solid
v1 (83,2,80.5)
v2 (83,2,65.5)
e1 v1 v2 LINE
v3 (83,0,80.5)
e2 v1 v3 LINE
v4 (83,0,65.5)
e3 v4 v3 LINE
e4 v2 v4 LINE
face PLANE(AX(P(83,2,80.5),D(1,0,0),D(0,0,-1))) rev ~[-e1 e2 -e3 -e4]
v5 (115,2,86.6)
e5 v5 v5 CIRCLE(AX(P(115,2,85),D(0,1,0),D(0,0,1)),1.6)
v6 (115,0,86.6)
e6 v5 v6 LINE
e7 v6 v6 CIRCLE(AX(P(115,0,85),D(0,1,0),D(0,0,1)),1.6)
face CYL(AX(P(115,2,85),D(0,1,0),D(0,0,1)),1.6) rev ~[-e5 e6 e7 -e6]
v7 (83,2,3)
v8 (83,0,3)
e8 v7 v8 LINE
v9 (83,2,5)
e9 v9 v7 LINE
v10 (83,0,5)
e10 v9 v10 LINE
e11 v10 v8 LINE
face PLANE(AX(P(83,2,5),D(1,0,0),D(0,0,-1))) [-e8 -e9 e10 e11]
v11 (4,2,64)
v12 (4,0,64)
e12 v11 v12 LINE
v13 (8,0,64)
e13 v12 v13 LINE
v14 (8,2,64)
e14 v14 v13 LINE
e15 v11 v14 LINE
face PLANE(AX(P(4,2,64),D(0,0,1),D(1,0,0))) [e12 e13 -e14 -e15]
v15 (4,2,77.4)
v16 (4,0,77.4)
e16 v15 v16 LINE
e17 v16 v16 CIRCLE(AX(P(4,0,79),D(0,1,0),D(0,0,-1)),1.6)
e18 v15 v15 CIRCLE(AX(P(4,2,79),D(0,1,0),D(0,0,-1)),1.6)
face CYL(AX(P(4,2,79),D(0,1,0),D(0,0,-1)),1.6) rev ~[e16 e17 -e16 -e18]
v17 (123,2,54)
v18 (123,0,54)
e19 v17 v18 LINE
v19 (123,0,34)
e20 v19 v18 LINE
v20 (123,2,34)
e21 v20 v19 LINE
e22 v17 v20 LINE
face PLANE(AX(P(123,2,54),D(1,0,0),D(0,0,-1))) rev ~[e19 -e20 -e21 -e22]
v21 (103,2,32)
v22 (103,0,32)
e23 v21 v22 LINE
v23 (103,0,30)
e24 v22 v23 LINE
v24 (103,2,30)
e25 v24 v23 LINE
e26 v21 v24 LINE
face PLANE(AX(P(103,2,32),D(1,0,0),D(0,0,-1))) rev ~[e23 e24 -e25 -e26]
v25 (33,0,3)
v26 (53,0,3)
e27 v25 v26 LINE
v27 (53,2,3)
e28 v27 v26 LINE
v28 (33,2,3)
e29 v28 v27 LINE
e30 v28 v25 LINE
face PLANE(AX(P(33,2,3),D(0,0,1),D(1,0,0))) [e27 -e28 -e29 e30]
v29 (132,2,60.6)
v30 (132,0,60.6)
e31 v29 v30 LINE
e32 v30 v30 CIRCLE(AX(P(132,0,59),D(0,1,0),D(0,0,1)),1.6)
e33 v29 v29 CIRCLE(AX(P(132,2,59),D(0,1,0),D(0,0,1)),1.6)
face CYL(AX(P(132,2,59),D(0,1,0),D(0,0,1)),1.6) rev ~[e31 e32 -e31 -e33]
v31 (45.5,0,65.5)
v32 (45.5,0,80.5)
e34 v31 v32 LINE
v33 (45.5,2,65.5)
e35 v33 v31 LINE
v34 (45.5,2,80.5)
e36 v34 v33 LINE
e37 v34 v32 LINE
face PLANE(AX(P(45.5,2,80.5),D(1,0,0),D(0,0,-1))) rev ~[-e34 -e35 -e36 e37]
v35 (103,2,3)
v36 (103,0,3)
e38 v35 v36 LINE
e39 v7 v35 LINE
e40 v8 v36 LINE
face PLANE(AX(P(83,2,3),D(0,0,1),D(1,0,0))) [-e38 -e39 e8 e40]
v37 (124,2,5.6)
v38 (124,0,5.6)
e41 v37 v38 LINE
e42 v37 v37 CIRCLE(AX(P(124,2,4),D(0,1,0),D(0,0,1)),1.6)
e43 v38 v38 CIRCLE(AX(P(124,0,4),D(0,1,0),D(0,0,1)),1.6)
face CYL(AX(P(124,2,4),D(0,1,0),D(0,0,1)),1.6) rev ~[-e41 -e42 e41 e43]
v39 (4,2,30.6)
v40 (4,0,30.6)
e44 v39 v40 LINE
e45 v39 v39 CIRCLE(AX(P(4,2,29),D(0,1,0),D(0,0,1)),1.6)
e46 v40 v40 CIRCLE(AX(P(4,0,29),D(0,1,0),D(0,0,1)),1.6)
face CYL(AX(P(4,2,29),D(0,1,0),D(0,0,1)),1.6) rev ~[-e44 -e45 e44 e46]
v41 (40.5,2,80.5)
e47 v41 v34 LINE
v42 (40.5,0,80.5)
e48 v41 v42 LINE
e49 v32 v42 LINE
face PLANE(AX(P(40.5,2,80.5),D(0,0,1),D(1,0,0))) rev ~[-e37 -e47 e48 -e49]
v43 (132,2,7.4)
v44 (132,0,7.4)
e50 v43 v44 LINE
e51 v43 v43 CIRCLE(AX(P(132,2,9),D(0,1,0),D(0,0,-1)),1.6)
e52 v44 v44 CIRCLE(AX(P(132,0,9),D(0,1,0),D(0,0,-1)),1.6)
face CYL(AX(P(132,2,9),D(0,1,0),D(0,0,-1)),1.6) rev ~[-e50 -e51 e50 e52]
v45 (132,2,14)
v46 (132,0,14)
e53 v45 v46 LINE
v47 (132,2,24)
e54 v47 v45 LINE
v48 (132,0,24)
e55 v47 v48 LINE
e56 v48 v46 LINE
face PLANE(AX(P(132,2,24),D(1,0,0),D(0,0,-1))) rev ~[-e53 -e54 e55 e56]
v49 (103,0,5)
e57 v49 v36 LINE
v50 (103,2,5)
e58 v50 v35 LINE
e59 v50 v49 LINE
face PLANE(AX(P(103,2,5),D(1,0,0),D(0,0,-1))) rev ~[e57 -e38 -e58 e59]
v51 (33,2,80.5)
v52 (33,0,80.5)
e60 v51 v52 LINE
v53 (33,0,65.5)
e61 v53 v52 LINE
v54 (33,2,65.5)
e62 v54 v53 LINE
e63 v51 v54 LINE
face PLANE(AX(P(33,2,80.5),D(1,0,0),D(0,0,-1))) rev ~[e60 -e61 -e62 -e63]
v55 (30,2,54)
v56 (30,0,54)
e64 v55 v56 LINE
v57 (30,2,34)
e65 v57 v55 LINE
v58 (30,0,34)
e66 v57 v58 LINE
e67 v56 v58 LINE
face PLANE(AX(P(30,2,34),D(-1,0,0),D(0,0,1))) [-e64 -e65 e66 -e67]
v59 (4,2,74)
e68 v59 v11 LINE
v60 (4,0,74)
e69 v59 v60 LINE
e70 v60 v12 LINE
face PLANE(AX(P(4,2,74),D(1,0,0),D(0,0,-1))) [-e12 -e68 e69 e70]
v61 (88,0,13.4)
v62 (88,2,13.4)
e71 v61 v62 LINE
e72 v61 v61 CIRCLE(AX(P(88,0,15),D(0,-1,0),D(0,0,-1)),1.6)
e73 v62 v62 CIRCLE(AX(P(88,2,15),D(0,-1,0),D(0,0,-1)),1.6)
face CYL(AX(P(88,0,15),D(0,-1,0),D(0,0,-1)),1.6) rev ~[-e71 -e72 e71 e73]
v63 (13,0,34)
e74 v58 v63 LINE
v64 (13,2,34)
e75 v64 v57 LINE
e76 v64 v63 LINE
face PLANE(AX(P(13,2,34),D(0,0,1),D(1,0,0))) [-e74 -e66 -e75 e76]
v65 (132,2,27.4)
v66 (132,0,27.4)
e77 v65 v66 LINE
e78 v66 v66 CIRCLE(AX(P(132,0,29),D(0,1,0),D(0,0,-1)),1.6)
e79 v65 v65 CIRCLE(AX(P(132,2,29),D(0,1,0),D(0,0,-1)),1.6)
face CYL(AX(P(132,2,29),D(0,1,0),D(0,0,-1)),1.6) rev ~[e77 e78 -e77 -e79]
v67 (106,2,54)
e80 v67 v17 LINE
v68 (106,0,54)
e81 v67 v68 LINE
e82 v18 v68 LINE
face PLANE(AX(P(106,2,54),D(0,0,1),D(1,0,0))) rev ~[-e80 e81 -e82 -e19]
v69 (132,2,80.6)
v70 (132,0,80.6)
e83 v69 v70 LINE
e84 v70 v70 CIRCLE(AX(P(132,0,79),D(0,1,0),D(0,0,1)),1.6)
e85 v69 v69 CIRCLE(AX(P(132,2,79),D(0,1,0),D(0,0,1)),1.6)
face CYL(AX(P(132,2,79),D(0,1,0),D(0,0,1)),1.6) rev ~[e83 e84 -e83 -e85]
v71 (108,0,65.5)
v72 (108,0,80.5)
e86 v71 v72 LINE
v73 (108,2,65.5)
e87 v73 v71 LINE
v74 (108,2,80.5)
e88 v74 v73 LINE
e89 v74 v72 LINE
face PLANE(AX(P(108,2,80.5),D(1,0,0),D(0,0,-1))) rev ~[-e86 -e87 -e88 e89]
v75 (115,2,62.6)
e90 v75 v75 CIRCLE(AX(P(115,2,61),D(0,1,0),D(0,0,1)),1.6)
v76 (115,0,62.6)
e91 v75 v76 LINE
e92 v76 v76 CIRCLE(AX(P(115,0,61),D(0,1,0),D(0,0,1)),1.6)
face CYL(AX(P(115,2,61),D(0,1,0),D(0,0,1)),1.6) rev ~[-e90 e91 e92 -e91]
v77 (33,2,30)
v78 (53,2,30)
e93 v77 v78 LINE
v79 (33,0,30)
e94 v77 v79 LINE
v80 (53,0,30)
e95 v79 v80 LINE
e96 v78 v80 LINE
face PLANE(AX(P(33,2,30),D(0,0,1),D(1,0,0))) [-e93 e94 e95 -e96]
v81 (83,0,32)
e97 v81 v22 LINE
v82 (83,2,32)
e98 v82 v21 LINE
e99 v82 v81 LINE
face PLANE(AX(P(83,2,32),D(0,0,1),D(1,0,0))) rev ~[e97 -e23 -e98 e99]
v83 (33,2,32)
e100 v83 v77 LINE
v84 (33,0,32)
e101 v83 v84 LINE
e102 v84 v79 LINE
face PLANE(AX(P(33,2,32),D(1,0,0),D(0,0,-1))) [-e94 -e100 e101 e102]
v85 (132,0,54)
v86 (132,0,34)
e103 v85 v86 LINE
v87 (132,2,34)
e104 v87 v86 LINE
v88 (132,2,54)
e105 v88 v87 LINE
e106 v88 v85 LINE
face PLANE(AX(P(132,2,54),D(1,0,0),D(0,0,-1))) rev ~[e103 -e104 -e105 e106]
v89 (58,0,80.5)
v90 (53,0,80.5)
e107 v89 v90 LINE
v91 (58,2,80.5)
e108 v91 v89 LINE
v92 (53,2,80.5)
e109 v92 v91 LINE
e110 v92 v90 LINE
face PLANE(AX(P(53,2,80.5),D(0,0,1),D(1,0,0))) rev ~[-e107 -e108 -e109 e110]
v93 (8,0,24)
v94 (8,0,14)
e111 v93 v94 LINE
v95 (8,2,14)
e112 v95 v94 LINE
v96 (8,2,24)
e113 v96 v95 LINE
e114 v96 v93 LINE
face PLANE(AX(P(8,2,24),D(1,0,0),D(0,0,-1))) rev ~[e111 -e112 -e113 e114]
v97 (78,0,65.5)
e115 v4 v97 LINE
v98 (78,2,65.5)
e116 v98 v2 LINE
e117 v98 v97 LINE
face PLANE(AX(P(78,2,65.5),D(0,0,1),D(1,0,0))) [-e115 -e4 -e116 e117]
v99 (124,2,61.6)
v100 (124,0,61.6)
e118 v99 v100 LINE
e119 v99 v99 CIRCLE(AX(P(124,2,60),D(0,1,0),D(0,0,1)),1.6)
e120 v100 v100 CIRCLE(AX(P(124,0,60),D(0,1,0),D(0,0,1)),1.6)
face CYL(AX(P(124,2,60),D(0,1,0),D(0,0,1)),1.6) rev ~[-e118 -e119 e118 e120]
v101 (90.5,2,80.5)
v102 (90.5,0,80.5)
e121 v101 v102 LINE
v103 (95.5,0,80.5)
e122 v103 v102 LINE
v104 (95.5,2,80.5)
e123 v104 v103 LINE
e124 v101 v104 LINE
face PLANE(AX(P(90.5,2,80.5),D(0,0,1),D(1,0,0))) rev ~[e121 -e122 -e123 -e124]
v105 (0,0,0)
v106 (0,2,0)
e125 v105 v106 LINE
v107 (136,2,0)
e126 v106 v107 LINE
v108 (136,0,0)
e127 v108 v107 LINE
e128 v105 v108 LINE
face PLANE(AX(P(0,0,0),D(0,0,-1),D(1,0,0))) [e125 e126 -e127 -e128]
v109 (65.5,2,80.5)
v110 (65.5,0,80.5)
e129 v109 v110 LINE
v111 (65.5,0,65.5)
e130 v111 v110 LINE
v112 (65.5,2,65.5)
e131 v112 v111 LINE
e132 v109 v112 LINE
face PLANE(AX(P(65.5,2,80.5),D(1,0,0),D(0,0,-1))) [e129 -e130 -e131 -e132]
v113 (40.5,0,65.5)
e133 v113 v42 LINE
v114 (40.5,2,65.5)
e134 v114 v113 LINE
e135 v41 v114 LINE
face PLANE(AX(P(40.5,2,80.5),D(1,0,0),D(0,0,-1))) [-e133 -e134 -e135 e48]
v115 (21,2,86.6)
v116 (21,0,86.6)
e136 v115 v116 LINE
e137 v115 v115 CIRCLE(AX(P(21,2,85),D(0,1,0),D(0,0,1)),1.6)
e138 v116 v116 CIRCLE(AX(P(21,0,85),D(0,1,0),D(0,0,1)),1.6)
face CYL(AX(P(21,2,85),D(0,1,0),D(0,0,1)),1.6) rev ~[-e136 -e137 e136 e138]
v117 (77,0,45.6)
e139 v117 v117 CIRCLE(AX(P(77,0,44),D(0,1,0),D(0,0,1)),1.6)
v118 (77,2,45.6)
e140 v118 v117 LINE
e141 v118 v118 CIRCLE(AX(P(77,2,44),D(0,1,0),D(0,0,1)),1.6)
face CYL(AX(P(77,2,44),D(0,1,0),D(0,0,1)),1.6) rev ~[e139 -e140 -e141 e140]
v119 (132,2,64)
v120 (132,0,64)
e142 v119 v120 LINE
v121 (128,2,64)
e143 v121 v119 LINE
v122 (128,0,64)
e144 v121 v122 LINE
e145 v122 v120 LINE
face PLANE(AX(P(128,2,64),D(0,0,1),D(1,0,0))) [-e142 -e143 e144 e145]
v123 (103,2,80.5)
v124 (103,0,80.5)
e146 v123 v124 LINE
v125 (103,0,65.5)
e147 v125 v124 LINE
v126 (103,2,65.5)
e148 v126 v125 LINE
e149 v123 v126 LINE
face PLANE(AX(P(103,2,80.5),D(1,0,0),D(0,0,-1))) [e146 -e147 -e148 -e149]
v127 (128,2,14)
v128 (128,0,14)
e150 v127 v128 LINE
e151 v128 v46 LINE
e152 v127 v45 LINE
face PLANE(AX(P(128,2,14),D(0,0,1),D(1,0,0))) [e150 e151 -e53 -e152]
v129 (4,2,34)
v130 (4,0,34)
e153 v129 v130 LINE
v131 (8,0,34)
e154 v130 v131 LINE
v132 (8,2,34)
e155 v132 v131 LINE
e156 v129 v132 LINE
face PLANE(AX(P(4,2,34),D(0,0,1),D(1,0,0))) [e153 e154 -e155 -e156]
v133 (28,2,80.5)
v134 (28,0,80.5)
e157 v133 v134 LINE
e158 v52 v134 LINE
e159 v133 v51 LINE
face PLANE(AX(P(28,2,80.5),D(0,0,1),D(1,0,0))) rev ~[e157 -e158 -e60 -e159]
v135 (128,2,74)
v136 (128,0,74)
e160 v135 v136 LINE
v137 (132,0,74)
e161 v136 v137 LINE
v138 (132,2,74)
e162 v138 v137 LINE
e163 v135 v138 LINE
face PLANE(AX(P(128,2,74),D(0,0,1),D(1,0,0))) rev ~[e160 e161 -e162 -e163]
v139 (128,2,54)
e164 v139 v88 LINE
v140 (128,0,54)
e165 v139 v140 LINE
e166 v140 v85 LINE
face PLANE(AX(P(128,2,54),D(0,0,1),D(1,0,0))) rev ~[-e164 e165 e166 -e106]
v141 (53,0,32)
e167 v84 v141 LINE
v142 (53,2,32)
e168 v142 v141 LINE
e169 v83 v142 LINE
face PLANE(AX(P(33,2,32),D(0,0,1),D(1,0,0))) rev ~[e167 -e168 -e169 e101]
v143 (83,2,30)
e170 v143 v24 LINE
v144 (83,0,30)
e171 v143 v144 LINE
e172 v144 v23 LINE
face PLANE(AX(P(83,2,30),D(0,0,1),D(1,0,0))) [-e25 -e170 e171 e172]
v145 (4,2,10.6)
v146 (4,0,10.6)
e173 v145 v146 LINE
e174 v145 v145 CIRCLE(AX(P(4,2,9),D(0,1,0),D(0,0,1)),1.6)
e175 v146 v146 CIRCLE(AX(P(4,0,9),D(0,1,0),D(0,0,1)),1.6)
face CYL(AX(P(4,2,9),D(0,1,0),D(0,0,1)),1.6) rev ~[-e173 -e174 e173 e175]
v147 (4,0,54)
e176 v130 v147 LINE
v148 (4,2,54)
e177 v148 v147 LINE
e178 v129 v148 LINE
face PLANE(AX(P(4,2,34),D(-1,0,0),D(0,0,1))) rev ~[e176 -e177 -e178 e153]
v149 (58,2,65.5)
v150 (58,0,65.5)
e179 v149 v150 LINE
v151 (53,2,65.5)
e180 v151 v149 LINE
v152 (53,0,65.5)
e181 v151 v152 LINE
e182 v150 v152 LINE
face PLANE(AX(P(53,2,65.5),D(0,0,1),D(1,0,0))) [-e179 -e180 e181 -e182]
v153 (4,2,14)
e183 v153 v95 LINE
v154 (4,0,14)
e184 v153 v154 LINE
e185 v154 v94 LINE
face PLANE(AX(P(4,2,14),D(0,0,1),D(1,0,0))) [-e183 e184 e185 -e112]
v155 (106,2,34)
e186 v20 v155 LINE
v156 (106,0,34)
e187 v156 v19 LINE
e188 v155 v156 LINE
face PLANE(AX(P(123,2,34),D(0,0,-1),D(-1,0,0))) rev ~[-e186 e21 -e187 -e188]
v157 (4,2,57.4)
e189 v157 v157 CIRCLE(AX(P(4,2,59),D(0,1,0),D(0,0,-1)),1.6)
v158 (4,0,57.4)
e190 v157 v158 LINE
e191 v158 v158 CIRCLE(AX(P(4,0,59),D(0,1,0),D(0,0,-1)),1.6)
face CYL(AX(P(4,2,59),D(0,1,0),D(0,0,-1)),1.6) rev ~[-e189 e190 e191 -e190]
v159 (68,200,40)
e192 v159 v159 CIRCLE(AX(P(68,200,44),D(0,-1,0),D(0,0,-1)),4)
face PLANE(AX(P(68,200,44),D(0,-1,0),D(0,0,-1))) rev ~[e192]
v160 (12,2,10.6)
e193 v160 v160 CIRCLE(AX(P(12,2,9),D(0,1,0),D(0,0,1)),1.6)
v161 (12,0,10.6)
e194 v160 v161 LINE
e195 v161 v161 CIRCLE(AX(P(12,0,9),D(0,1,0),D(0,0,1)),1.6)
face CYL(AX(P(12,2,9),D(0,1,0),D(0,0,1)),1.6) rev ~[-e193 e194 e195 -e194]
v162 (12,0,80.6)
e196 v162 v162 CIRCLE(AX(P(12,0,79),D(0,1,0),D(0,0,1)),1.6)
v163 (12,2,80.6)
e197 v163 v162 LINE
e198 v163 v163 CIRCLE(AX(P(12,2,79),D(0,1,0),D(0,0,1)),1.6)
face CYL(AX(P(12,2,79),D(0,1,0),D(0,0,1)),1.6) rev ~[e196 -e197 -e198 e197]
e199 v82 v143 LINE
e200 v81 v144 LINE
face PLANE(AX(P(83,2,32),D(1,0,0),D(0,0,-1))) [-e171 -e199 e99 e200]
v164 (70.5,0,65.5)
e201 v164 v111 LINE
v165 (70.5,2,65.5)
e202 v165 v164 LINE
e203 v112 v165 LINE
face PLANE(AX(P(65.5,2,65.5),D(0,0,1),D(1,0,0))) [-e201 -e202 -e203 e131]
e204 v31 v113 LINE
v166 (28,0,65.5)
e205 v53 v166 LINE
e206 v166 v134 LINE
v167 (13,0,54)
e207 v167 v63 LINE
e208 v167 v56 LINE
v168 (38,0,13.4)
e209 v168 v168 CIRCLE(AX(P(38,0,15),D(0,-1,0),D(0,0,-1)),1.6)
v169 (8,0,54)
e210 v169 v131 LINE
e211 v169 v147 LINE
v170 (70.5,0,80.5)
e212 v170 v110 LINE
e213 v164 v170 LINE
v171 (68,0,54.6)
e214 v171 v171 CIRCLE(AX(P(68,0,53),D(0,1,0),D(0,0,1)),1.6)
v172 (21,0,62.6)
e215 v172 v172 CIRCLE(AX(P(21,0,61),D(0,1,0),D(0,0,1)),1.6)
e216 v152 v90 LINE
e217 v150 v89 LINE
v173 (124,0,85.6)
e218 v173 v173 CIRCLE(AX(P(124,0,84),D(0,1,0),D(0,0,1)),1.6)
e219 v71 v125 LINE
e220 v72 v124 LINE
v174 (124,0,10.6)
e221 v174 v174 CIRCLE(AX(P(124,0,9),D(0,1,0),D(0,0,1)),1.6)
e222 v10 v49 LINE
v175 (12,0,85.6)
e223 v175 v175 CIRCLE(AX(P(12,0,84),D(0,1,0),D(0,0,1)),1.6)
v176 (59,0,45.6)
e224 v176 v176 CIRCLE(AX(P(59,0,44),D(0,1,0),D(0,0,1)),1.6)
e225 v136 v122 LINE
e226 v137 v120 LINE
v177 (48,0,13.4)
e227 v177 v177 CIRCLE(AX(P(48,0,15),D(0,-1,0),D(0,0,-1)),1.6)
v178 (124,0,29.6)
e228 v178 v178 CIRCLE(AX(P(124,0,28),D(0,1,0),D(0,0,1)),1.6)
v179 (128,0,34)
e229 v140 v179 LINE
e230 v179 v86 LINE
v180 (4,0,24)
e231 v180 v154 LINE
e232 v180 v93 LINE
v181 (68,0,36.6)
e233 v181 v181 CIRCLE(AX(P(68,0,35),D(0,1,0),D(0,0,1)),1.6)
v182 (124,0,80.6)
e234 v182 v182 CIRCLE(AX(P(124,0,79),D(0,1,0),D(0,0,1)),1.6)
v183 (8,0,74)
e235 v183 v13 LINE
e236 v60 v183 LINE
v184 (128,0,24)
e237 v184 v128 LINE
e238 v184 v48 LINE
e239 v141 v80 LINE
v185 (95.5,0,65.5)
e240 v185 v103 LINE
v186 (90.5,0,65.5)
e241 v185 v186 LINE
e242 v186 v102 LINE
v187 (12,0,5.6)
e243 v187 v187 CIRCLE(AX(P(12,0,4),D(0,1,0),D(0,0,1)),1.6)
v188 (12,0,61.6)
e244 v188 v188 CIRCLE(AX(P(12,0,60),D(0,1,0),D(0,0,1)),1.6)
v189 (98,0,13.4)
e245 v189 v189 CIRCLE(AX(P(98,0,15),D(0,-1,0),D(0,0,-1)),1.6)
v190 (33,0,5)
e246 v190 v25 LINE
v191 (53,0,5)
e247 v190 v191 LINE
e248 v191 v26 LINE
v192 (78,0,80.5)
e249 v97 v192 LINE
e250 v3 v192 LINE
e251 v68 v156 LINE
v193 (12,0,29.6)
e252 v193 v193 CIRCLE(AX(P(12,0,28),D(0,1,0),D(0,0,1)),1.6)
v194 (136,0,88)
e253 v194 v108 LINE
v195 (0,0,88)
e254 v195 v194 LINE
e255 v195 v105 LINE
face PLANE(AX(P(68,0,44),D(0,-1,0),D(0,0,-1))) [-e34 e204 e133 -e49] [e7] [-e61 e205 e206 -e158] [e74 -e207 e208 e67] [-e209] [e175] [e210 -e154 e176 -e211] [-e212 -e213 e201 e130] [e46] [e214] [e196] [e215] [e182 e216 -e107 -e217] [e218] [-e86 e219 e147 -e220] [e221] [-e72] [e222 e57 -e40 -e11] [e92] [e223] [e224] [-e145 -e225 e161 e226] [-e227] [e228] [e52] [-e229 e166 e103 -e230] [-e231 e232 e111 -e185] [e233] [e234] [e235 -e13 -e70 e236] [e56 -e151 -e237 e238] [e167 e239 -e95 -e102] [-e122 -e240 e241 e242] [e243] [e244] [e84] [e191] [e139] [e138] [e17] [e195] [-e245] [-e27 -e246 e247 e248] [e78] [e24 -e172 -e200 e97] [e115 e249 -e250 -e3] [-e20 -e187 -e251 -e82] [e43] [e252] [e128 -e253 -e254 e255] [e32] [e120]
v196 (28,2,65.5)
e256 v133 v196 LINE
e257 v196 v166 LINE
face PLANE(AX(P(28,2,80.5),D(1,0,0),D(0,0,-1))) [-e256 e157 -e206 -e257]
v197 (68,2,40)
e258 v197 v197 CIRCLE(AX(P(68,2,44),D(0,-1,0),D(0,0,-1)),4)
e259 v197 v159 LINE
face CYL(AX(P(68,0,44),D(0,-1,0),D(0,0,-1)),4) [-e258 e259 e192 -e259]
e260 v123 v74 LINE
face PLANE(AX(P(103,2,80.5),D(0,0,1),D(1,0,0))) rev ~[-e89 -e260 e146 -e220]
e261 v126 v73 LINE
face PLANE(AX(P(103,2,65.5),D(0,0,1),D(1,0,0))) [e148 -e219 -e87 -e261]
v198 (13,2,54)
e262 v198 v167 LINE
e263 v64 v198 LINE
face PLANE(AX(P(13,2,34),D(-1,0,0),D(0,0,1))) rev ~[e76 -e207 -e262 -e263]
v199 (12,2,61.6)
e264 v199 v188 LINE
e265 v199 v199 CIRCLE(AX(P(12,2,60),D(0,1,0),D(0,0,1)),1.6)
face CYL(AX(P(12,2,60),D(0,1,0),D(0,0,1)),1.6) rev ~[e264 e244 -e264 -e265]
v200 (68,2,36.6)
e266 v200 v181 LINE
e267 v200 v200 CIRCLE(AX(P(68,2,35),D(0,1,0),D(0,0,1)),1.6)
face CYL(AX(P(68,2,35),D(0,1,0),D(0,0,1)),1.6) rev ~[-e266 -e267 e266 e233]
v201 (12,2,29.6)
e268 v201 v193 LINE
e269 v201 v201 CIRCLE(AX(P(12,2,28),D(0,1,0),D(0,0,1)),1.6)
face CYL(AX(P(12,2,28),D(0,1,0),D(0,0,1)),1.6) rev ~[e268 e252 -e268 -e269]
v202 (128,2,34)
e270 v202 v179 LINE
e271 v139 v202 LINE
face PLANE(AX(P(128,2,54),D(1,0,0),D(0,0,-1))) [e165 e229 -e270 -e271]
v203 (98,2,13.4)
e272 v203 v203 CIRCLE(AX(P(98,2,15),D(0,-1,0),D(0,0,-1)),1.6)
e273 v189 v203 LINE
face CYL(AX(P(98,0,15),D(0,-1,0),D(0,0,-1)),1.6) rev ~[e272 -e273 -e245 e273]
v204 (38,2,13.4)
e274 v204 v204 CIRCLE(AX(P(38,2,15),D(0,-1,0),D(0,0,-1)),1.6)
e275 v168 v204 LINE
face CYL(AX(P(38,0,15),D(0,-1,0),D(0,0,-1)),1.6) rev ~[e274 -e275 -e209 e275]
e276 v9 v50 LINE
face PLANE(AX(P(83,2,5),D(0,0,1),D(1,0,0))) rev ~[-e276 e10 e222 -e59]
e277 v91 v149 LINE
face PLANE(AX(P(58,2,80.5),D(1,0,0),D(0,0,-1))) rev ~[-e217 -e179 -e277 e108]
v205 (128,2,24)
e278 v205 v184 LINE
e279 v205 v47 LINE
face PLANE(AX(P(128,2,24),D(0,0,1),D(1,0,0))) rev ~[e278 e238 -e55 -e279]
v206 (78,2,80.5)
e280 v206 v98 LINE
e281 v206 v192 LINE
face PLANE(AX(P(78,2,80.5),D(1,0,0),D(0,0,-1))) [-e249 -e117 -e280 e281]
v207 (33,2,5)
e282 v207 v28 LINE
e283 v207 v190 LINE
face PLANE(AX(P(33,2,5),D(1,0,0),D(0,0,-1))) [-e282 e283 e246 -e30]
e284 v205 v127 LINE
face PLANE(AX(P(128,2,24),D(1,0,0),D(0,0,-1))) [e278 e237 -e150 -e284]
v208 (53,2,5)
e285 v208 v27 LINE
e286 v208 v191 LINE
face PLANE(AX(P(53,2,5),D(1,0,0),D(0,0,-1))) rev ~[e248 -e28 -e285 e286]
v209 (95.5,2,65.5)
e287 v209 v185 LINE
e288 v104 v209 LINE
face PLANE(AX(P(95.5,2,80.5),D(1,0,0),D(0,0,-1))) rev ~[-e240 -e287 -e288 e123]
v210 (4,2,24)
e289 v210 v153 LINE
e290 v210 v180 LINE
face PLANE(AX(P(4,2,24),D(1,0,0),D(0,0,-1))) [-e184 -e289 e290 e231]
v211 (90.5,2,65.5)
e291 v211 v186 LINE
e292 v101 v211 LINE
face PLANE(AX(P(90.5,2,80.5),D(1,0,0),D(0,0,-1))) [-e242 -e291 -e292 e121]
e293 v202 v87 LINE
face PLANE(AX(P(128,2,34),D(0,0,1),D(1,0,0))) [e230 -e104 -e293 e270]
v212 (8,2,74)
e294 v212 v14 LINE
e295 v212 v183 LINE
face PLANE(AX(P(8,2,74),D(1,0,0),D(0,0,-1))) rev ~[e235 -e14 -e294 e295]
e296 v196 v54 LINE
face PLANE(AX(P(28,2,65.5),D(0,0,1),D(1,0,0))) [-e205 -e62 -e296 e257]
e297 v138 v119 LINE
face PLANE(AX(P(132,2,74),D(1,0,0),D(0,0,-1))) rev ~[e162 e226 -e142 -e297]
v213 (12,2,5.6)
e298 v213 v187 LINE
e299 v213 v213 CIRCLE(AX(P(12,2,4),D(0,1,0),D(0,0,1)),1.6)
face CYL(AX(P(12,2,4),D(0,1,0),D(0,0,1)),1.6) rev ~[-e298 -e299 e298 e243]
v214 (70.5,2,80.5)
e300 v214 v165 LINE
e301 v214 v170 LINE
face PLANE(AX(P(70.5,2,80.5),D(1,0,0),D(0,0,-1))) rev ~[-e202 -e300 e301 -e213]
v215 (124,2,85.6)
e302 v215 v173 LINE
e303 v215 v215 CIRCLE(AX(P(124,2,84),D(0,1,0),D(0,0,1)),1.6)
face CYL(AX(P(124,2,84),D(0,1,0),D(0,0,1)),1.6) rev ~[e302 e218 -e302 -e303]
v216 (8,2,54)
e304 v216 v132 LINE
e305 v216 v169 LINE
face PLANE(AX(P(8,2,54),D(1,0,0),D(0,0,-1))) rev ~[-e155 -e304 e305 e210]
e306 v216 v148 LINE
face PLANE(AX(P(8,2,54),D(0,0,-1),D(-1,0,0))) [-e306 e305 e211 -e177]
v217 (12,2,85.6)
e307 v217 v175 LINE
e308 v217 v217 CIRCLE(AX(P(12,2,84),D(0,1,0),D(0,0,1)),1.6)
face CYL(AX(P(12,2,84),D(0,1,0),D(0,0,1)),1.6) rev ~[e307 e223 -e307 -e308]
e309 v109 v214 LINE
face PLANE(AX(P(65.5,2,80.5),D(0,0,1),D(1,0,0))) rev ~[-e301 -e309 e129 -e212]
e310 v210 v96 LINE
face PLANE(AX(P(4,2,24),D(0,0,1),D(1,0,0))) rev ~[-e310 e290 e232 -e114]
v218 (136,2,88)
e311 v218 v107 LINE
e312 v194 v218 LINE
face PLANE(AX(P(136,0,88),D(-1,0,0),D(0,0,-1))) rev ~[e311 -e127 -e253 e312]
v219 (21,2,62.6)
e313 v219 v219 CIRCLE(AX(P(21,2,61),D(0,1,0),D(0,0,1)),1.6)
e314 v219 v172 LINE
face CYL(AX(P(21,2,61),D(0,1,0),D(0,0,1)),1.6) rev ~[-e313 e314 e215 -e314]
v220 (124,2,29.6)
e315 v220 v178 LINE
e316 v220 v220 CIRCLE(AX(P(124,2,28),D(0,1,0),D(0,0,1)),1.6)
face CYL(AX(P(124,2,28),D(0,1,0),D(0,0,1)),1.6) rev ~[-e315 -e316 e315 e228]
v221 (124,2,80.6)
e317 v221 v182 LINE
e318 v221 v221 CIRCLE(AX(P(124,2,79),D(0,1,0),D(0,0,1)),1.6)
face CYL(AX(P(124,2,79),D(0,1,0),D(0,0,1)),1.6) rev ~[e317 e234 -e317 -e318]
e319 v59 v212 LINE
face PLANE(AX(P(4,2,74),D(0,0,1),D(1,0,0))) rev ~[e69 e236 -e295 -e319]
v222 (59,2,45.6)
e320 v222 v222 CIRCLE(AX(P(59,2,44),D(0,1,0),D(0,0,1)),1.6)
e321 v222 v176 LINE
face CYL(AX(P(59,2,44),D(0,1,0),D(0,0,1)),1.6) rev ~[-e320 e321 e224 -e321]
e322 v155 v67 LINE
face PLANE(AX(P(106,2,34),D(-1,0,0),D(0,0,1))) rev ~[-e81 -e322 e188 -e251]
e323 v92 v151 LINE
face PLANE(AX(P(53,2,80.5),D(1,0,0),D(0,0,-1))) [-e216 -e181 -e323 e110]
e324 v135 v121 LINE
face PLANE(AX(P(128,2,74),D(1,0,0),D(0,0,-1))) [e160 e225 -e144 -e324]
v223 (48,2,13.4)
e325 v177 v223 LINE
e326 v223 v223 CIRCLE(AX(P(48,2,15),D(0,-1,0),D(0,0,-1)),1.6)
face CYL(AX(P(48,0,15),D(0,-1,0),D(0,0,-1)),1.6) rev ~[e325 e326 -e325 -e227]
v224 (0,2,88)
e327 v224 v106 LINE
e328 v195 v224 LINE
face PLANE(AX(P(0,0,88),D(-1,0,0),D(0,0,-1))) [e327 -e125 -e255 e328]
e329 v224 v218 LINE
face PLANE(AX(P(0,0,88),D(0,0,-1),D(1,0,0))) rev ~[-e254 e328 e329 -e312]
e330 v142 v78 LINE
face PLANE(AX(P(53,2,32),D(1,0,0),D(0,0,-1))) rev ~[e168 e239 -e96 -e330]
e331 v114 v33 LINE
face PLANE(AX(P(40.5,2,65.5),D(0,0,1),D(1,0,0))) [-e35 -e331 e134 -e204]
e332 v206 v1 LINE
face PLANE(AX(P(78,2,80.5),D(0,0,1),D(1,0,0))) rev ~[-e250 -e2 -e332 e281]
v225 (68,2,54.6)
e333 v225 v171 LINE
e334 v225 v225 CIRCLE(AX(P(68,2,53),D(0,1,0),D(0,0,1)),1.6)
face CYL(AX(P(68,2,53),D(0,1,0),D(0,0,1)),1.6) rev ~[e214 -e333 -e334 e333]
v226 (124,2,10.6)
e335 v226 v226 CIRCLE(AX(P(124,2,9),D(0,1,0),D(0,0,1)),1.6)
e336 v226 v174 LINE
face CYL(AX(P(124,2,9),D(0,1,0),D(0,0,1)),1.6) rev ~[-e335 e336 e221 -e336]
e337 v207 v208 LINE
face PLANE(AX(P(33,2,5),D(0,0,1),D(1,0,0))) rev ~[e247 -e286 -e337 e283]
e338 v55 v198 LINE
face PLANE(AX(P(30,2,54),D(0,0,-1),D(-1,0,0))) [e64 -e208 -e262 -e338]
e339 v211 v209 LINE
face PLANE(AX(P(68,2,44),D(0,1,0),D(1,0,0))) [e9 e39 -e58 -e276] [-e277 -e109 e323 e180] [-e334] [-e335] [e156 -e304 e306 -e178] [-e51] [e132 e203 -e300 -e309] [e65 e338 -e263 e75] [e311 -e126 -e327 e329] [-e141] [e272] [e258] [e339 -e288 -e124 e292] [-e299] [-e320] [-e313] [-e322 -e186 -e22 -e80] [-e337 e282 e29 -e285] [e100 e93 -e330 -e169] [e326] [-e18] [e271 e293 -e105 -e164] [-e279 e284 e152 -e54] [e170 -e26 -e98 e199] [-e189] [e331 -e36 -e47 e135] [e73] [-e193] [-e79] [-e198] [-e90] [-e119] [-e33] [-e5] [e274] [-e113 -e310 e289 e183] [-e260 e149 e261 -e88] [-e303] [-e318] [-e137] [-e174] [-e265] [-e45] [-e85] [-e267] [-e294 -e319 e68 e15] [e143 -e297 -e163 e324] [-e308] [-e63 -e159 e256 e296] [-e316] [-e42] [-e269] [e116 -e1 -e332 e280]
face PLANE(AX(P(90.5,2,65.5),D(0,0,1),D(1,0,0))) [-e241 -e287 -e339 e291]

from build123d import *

# Parameters (mm, degrees)
SKETCH_1_W          = 136
SKETCH_1_H          = 88
EXTRUDE_1_DEPTH     = 2
SKETCH_2_R          = 1.6
SKETCH_2_W          = 4
SKETCH_2_H          = 10
SKETCH_2_H_2        = 20
CUT_EXTRUDE_1_DEPTH = 2
SKETCH_5_R          = 1.6
CUT_EXTRUDE_2_DEPTH = 10
SKETCH_6_R          = 1.6
CUT_EXTRUDE_3_DEPTH = 10
SKETCH_10_R         = 1.6
CUT_EXTRUDE_4_DEPTH = 10
SKETCH_11_R         = 4
EXTRUDE_3_DEPTH     = 200
SKETCH_13_W         = 20
SKETCH_13_H         = 2
CUT_EXTRUDE_5_DEPTH = 2
CUT_EXTRUDE_6_DEPTH = 10
SKETCH_15_W         = 5
SKETCH_15_H         = 15
CUT_EXTRUDE_7_DEPTH = 5
SKETCH_16_R         = 1.6
CUT_EXTRUDE_8_DEPTH = 10


with BuildPart() as part:
    # 草图1 → 凸台-拉伸1 (new body)
    with BuildSketch(Plane(origin=(0, 0, 0), x_dir=(1, 0, 0), z_dir=(0, 1, 0))):
        with Locations((68, -44)):
            Rectangle(SKETCH_1_W, SKETCH_1_H)
    extrude(amount=EXTRUDE_1_DEPTH)

    # 草图2 → 切除-拉伸1 (cut)
    with BuildSketch(Plane(origin=(0, 2, 0), x_dir=(1, 0, 0), z_dir=(0, 1, 0))):
        with Locations(Location((4, -29, 0), (0, 0, 270))):
            Circle(SKETCH_2_R)
        with Locations(Location((4, -9, 0), (0, 0, 270))):
            Circle(SKETCH_2_R)
        with Locations(Location((132, -9, 0), (0, 0, 90))):
            Circle(SKETCH_2_R)
        with Locations(Location((132, -29, 0), (0, 0, 90))):
            Circle(SKETCH_2_R)
        with Locations(Location((132, -59, 0), (0, 0, 270))):
            Circle(SKETCH_2_R)
        with Locations(Location((132, -79, 0), (0, 0, 270))):
            Circle(SKETCH_2_R)
        with Locations(Location((4, -79, 0), (0, 0, 90))):
            Circle(SKETCH_2_R)
        with Locations(Location((4, -59, 0), (0, 0, 90))):
            Circle(SKETCH_2_R)
        Polygon((4, -44), (4, -34), (8, -34), (8, -44), (8, -54), (4, -54), align=None)
        with Locations((6, -19)):
            Rectangle(SKETCH_2_W, SKETCH_2_H)
        with Locations((130, -19)):
            Rectangle(SKETCH_2_W, SKETCH_2_H)
        with Locations((130, -44)):
            Rectangle(SKETCH_2_W, SKETCH_2_H_2)
        with Locations((130, -69)):
            Rectangle(SKETCH_2_W, SKETCH_2_H)
        with Locations((6, -69)):
            Rectangle(SKETCH_2_W, SKETCH_2_H)
    extrude(amount=-CUT_EXTRUDE_1_DEPTH, mode=Mode.SUBTRACT)

    # 草图5 → 切除-拉伸2 (cut)
    with BuildSketch(Plane(origin=(0, 2, 0), x_dir=(1, 0, 0), z_dir=(0, 1, 0))):
        with Locations(Location((12, -28, 0), (0, 0, 270))):
            Circle(SKETCH_5_R)
        with Locations(Location((12, -60, 0), (0, 0, 270))):
            Circle(SKETCH_5_R)
        with Locations(Location((124, -60, 0), (0, 0, 270))):
            Circle(SKETCH_5_R)
        with Locations(Location((124, -28, 0), (0, 0, 270))):
            Circle(SKETCH_5_R)
        with Locations(Location((12, -79, 0), (0, 0, 270))):
            Circle(SKETCH_5_R)
        with Locations(Location((12, -84, 0), (0, 0, 270))):
            Circle(SKETCH_5_R)
        with Locations(Location((12, -9, 0), (0, 0, 270))):
            Circle(SKETCH_5_R)
        with Locations(Location((12, -4, 0), (0, 0, 270))):
            Circle(SKETCH_5_R)
        with Locations(Location((124, -84, 0), (0, 0, 270))):
            Circle(SKETCH_5_R)
        with Locations(Location((124, -79, 0), (0, 0, 270))):
            Circle(SKETCH_5_R)
        with Locations(Location((124, -4, 0), (0, 0, 270))):
            Circle(SKETCH_5_R)
        with Locations(Location((124, -9, 0), (0, 0, 270))):
            Circle(SKETCH_5_R)
    extrude(amount=-CUT_EXTRUDE_2_DEPTH, mode=Mode.SUBTRACT)

    # 草图6 → 切除-拉伸3 (cut)
    with BuildSketch(Plane(origin=(0, 2, 0), x_dir=(1, 0, 0), z_dir=(0, 1, 0))):
        with Locations(Location((68, -35, 0), (0, 0, 270))):
            Circle(SKETCH_6_R)
        with Locations(Location((68, -53, 0), (0, 0, 270))):
            Circle(SKETCH_6_R)
        with Locations(Location((77, -44, 0), (0, 0, 270))):
            Circle(SKETCH_6_R)
        with Locations(Location((59, -44, 0), (0, 0, 270))):
            Circle(SKETCH_6_R)
    extrude(amount=-CUT_EXTRUDE_3_DEPTH, mode=Mode.SUBTRACT)

    # 草图10 → 切除-拉伸4 (cut)
    with BuildSketch(Plane(origin=(0, 2, 0), x_dir=(1, 0, 0), z_dir=(0, 1, 0))):
        with Locations(Location((21, -85, 0), (0, 0, 270))):
            Circle(SKETCH_10_R)
        with Locations(Location((21, -61, 0), (0, 0, 270))):
            Circle(SKETCH_10_R)
        with Locations(Location((115, -61, 0), (0, 0, 270))):
            Circle(SKETCH_10_R)
        with Locations(Location((115, -85, 0), (0, 0, 270))):
            Circle(SKETCH_10_R)
    extrude(amount=-CUT_EXTRUDE_4_DEPTH, mode=Mode.SUBTRACT)

    # 草图11 → 凸台-拉伸3 (add)
    with BuildSketch(Plane.XZ):
        with Locations(Location((68, 44, 0), (0, 0, 270))):
            Circle(SKETCH_11_R)
    extrude(amount=-EXTRUDE_3_DEPTH)

    # 草图13 → 切除-拉伸5 (cut)
    with BuildSketch(Plane(origin=(0, 2, 0), x_dir=(1, 0, 0), z_dir=(0, 1, 0))):
        with Locations((43, -4)):
            Rectangle(SKETCH_13_W, SKETCH_13_H)
        with Locations((43, -31)):
            Rectangle(SKETCH_13_W, SKETCH_13_H)
        with Locations((93, -31)):
            Rectangle(SKETCH_13_W, SKETCH_13_H)
        with Locations((93, -4)):
            Rectangle(SKETCH_13_W, SKETCH_13_H)
    extrude(amount=-CUT_EXTRUDE_5_DEPTH, mode=Mode.SUBTRACT)

    # 草图14 → 切除-拉伸6 (cut)
    with BuildSketch(Plane(origin=(0, 2, 0), x_dir=(1, 0, 0), z_dir=(0, 1, 0))):
        Polygon((13, -44), (13, -34), (30, -34), (30, -54), (13, -54), align=None)
        Polygon((106, -34), (106, -54), (123, -54), (123, -44), (123, -34), align=None)
    extrude(amount=-CUT_EXTRUDE_6_DEPTH, mode=Mode.SUBTRACT)

    # 草图15 → 切除-拉伸7 (cut)
    with BuildSketch(Plane(origin=(0, 2, 0), x_dir=(1, 0, 0), z_dir=(0, 1, 0))):
        with Locations((68, -73)):
            Rectangle(SKETCH_15_W, SKETCH_15_H)
        with Locations((80.5, -73)):
            Rectangle(SKETCH_15_W, SKETCH_15_H)
        with Locations((93, -73)):
            Rectangle(SKETCH_15_W, SKETCH_15_H)
        with Locations((105.5, -73)):
            Rectangle(SKETCH_15_W, SKETCH_15_H)
        with Locations((55.5, -73)):
            Rectangle(SKETCH_15_W, SKETCH_15_H)
        with Locations((43, -73)):
            Rectangle(SKETCH_15_W, SKETCH_15_H)
        with Locations((30.5, -73)):
            Rectangle(SKETCH_15_W, SKETCH_15_H)
    extrude(amount=-CUT_EXTRUDE_7_DEPTH, mode=Mode.SUBTRACT)

    # 草图16 → 切除-拉伸8 (cut)
    with BuildSketch(Plane.XZ):
        with Locations(Location((88, 15, 0), (0, 0, 270))):
            Circle(SKETCH_16_R)
        with Locations(Location((48, 15, 0), (0, 0, 270))):
            Circle(SKETCH_16_R)
        with Locations(Location((98, 15, 0), (0, 0, 270))):
            Circle(SKETCH_16_R)
        with Locations(Location((38, 15, 0), (0, 0, 270))):
            Circle(SKETCH_16_R)
    extrude(amount=-CUT_EXTRUDE_8_DEPTH, mode=Mode.SUBTRACT)


solid = part.part
